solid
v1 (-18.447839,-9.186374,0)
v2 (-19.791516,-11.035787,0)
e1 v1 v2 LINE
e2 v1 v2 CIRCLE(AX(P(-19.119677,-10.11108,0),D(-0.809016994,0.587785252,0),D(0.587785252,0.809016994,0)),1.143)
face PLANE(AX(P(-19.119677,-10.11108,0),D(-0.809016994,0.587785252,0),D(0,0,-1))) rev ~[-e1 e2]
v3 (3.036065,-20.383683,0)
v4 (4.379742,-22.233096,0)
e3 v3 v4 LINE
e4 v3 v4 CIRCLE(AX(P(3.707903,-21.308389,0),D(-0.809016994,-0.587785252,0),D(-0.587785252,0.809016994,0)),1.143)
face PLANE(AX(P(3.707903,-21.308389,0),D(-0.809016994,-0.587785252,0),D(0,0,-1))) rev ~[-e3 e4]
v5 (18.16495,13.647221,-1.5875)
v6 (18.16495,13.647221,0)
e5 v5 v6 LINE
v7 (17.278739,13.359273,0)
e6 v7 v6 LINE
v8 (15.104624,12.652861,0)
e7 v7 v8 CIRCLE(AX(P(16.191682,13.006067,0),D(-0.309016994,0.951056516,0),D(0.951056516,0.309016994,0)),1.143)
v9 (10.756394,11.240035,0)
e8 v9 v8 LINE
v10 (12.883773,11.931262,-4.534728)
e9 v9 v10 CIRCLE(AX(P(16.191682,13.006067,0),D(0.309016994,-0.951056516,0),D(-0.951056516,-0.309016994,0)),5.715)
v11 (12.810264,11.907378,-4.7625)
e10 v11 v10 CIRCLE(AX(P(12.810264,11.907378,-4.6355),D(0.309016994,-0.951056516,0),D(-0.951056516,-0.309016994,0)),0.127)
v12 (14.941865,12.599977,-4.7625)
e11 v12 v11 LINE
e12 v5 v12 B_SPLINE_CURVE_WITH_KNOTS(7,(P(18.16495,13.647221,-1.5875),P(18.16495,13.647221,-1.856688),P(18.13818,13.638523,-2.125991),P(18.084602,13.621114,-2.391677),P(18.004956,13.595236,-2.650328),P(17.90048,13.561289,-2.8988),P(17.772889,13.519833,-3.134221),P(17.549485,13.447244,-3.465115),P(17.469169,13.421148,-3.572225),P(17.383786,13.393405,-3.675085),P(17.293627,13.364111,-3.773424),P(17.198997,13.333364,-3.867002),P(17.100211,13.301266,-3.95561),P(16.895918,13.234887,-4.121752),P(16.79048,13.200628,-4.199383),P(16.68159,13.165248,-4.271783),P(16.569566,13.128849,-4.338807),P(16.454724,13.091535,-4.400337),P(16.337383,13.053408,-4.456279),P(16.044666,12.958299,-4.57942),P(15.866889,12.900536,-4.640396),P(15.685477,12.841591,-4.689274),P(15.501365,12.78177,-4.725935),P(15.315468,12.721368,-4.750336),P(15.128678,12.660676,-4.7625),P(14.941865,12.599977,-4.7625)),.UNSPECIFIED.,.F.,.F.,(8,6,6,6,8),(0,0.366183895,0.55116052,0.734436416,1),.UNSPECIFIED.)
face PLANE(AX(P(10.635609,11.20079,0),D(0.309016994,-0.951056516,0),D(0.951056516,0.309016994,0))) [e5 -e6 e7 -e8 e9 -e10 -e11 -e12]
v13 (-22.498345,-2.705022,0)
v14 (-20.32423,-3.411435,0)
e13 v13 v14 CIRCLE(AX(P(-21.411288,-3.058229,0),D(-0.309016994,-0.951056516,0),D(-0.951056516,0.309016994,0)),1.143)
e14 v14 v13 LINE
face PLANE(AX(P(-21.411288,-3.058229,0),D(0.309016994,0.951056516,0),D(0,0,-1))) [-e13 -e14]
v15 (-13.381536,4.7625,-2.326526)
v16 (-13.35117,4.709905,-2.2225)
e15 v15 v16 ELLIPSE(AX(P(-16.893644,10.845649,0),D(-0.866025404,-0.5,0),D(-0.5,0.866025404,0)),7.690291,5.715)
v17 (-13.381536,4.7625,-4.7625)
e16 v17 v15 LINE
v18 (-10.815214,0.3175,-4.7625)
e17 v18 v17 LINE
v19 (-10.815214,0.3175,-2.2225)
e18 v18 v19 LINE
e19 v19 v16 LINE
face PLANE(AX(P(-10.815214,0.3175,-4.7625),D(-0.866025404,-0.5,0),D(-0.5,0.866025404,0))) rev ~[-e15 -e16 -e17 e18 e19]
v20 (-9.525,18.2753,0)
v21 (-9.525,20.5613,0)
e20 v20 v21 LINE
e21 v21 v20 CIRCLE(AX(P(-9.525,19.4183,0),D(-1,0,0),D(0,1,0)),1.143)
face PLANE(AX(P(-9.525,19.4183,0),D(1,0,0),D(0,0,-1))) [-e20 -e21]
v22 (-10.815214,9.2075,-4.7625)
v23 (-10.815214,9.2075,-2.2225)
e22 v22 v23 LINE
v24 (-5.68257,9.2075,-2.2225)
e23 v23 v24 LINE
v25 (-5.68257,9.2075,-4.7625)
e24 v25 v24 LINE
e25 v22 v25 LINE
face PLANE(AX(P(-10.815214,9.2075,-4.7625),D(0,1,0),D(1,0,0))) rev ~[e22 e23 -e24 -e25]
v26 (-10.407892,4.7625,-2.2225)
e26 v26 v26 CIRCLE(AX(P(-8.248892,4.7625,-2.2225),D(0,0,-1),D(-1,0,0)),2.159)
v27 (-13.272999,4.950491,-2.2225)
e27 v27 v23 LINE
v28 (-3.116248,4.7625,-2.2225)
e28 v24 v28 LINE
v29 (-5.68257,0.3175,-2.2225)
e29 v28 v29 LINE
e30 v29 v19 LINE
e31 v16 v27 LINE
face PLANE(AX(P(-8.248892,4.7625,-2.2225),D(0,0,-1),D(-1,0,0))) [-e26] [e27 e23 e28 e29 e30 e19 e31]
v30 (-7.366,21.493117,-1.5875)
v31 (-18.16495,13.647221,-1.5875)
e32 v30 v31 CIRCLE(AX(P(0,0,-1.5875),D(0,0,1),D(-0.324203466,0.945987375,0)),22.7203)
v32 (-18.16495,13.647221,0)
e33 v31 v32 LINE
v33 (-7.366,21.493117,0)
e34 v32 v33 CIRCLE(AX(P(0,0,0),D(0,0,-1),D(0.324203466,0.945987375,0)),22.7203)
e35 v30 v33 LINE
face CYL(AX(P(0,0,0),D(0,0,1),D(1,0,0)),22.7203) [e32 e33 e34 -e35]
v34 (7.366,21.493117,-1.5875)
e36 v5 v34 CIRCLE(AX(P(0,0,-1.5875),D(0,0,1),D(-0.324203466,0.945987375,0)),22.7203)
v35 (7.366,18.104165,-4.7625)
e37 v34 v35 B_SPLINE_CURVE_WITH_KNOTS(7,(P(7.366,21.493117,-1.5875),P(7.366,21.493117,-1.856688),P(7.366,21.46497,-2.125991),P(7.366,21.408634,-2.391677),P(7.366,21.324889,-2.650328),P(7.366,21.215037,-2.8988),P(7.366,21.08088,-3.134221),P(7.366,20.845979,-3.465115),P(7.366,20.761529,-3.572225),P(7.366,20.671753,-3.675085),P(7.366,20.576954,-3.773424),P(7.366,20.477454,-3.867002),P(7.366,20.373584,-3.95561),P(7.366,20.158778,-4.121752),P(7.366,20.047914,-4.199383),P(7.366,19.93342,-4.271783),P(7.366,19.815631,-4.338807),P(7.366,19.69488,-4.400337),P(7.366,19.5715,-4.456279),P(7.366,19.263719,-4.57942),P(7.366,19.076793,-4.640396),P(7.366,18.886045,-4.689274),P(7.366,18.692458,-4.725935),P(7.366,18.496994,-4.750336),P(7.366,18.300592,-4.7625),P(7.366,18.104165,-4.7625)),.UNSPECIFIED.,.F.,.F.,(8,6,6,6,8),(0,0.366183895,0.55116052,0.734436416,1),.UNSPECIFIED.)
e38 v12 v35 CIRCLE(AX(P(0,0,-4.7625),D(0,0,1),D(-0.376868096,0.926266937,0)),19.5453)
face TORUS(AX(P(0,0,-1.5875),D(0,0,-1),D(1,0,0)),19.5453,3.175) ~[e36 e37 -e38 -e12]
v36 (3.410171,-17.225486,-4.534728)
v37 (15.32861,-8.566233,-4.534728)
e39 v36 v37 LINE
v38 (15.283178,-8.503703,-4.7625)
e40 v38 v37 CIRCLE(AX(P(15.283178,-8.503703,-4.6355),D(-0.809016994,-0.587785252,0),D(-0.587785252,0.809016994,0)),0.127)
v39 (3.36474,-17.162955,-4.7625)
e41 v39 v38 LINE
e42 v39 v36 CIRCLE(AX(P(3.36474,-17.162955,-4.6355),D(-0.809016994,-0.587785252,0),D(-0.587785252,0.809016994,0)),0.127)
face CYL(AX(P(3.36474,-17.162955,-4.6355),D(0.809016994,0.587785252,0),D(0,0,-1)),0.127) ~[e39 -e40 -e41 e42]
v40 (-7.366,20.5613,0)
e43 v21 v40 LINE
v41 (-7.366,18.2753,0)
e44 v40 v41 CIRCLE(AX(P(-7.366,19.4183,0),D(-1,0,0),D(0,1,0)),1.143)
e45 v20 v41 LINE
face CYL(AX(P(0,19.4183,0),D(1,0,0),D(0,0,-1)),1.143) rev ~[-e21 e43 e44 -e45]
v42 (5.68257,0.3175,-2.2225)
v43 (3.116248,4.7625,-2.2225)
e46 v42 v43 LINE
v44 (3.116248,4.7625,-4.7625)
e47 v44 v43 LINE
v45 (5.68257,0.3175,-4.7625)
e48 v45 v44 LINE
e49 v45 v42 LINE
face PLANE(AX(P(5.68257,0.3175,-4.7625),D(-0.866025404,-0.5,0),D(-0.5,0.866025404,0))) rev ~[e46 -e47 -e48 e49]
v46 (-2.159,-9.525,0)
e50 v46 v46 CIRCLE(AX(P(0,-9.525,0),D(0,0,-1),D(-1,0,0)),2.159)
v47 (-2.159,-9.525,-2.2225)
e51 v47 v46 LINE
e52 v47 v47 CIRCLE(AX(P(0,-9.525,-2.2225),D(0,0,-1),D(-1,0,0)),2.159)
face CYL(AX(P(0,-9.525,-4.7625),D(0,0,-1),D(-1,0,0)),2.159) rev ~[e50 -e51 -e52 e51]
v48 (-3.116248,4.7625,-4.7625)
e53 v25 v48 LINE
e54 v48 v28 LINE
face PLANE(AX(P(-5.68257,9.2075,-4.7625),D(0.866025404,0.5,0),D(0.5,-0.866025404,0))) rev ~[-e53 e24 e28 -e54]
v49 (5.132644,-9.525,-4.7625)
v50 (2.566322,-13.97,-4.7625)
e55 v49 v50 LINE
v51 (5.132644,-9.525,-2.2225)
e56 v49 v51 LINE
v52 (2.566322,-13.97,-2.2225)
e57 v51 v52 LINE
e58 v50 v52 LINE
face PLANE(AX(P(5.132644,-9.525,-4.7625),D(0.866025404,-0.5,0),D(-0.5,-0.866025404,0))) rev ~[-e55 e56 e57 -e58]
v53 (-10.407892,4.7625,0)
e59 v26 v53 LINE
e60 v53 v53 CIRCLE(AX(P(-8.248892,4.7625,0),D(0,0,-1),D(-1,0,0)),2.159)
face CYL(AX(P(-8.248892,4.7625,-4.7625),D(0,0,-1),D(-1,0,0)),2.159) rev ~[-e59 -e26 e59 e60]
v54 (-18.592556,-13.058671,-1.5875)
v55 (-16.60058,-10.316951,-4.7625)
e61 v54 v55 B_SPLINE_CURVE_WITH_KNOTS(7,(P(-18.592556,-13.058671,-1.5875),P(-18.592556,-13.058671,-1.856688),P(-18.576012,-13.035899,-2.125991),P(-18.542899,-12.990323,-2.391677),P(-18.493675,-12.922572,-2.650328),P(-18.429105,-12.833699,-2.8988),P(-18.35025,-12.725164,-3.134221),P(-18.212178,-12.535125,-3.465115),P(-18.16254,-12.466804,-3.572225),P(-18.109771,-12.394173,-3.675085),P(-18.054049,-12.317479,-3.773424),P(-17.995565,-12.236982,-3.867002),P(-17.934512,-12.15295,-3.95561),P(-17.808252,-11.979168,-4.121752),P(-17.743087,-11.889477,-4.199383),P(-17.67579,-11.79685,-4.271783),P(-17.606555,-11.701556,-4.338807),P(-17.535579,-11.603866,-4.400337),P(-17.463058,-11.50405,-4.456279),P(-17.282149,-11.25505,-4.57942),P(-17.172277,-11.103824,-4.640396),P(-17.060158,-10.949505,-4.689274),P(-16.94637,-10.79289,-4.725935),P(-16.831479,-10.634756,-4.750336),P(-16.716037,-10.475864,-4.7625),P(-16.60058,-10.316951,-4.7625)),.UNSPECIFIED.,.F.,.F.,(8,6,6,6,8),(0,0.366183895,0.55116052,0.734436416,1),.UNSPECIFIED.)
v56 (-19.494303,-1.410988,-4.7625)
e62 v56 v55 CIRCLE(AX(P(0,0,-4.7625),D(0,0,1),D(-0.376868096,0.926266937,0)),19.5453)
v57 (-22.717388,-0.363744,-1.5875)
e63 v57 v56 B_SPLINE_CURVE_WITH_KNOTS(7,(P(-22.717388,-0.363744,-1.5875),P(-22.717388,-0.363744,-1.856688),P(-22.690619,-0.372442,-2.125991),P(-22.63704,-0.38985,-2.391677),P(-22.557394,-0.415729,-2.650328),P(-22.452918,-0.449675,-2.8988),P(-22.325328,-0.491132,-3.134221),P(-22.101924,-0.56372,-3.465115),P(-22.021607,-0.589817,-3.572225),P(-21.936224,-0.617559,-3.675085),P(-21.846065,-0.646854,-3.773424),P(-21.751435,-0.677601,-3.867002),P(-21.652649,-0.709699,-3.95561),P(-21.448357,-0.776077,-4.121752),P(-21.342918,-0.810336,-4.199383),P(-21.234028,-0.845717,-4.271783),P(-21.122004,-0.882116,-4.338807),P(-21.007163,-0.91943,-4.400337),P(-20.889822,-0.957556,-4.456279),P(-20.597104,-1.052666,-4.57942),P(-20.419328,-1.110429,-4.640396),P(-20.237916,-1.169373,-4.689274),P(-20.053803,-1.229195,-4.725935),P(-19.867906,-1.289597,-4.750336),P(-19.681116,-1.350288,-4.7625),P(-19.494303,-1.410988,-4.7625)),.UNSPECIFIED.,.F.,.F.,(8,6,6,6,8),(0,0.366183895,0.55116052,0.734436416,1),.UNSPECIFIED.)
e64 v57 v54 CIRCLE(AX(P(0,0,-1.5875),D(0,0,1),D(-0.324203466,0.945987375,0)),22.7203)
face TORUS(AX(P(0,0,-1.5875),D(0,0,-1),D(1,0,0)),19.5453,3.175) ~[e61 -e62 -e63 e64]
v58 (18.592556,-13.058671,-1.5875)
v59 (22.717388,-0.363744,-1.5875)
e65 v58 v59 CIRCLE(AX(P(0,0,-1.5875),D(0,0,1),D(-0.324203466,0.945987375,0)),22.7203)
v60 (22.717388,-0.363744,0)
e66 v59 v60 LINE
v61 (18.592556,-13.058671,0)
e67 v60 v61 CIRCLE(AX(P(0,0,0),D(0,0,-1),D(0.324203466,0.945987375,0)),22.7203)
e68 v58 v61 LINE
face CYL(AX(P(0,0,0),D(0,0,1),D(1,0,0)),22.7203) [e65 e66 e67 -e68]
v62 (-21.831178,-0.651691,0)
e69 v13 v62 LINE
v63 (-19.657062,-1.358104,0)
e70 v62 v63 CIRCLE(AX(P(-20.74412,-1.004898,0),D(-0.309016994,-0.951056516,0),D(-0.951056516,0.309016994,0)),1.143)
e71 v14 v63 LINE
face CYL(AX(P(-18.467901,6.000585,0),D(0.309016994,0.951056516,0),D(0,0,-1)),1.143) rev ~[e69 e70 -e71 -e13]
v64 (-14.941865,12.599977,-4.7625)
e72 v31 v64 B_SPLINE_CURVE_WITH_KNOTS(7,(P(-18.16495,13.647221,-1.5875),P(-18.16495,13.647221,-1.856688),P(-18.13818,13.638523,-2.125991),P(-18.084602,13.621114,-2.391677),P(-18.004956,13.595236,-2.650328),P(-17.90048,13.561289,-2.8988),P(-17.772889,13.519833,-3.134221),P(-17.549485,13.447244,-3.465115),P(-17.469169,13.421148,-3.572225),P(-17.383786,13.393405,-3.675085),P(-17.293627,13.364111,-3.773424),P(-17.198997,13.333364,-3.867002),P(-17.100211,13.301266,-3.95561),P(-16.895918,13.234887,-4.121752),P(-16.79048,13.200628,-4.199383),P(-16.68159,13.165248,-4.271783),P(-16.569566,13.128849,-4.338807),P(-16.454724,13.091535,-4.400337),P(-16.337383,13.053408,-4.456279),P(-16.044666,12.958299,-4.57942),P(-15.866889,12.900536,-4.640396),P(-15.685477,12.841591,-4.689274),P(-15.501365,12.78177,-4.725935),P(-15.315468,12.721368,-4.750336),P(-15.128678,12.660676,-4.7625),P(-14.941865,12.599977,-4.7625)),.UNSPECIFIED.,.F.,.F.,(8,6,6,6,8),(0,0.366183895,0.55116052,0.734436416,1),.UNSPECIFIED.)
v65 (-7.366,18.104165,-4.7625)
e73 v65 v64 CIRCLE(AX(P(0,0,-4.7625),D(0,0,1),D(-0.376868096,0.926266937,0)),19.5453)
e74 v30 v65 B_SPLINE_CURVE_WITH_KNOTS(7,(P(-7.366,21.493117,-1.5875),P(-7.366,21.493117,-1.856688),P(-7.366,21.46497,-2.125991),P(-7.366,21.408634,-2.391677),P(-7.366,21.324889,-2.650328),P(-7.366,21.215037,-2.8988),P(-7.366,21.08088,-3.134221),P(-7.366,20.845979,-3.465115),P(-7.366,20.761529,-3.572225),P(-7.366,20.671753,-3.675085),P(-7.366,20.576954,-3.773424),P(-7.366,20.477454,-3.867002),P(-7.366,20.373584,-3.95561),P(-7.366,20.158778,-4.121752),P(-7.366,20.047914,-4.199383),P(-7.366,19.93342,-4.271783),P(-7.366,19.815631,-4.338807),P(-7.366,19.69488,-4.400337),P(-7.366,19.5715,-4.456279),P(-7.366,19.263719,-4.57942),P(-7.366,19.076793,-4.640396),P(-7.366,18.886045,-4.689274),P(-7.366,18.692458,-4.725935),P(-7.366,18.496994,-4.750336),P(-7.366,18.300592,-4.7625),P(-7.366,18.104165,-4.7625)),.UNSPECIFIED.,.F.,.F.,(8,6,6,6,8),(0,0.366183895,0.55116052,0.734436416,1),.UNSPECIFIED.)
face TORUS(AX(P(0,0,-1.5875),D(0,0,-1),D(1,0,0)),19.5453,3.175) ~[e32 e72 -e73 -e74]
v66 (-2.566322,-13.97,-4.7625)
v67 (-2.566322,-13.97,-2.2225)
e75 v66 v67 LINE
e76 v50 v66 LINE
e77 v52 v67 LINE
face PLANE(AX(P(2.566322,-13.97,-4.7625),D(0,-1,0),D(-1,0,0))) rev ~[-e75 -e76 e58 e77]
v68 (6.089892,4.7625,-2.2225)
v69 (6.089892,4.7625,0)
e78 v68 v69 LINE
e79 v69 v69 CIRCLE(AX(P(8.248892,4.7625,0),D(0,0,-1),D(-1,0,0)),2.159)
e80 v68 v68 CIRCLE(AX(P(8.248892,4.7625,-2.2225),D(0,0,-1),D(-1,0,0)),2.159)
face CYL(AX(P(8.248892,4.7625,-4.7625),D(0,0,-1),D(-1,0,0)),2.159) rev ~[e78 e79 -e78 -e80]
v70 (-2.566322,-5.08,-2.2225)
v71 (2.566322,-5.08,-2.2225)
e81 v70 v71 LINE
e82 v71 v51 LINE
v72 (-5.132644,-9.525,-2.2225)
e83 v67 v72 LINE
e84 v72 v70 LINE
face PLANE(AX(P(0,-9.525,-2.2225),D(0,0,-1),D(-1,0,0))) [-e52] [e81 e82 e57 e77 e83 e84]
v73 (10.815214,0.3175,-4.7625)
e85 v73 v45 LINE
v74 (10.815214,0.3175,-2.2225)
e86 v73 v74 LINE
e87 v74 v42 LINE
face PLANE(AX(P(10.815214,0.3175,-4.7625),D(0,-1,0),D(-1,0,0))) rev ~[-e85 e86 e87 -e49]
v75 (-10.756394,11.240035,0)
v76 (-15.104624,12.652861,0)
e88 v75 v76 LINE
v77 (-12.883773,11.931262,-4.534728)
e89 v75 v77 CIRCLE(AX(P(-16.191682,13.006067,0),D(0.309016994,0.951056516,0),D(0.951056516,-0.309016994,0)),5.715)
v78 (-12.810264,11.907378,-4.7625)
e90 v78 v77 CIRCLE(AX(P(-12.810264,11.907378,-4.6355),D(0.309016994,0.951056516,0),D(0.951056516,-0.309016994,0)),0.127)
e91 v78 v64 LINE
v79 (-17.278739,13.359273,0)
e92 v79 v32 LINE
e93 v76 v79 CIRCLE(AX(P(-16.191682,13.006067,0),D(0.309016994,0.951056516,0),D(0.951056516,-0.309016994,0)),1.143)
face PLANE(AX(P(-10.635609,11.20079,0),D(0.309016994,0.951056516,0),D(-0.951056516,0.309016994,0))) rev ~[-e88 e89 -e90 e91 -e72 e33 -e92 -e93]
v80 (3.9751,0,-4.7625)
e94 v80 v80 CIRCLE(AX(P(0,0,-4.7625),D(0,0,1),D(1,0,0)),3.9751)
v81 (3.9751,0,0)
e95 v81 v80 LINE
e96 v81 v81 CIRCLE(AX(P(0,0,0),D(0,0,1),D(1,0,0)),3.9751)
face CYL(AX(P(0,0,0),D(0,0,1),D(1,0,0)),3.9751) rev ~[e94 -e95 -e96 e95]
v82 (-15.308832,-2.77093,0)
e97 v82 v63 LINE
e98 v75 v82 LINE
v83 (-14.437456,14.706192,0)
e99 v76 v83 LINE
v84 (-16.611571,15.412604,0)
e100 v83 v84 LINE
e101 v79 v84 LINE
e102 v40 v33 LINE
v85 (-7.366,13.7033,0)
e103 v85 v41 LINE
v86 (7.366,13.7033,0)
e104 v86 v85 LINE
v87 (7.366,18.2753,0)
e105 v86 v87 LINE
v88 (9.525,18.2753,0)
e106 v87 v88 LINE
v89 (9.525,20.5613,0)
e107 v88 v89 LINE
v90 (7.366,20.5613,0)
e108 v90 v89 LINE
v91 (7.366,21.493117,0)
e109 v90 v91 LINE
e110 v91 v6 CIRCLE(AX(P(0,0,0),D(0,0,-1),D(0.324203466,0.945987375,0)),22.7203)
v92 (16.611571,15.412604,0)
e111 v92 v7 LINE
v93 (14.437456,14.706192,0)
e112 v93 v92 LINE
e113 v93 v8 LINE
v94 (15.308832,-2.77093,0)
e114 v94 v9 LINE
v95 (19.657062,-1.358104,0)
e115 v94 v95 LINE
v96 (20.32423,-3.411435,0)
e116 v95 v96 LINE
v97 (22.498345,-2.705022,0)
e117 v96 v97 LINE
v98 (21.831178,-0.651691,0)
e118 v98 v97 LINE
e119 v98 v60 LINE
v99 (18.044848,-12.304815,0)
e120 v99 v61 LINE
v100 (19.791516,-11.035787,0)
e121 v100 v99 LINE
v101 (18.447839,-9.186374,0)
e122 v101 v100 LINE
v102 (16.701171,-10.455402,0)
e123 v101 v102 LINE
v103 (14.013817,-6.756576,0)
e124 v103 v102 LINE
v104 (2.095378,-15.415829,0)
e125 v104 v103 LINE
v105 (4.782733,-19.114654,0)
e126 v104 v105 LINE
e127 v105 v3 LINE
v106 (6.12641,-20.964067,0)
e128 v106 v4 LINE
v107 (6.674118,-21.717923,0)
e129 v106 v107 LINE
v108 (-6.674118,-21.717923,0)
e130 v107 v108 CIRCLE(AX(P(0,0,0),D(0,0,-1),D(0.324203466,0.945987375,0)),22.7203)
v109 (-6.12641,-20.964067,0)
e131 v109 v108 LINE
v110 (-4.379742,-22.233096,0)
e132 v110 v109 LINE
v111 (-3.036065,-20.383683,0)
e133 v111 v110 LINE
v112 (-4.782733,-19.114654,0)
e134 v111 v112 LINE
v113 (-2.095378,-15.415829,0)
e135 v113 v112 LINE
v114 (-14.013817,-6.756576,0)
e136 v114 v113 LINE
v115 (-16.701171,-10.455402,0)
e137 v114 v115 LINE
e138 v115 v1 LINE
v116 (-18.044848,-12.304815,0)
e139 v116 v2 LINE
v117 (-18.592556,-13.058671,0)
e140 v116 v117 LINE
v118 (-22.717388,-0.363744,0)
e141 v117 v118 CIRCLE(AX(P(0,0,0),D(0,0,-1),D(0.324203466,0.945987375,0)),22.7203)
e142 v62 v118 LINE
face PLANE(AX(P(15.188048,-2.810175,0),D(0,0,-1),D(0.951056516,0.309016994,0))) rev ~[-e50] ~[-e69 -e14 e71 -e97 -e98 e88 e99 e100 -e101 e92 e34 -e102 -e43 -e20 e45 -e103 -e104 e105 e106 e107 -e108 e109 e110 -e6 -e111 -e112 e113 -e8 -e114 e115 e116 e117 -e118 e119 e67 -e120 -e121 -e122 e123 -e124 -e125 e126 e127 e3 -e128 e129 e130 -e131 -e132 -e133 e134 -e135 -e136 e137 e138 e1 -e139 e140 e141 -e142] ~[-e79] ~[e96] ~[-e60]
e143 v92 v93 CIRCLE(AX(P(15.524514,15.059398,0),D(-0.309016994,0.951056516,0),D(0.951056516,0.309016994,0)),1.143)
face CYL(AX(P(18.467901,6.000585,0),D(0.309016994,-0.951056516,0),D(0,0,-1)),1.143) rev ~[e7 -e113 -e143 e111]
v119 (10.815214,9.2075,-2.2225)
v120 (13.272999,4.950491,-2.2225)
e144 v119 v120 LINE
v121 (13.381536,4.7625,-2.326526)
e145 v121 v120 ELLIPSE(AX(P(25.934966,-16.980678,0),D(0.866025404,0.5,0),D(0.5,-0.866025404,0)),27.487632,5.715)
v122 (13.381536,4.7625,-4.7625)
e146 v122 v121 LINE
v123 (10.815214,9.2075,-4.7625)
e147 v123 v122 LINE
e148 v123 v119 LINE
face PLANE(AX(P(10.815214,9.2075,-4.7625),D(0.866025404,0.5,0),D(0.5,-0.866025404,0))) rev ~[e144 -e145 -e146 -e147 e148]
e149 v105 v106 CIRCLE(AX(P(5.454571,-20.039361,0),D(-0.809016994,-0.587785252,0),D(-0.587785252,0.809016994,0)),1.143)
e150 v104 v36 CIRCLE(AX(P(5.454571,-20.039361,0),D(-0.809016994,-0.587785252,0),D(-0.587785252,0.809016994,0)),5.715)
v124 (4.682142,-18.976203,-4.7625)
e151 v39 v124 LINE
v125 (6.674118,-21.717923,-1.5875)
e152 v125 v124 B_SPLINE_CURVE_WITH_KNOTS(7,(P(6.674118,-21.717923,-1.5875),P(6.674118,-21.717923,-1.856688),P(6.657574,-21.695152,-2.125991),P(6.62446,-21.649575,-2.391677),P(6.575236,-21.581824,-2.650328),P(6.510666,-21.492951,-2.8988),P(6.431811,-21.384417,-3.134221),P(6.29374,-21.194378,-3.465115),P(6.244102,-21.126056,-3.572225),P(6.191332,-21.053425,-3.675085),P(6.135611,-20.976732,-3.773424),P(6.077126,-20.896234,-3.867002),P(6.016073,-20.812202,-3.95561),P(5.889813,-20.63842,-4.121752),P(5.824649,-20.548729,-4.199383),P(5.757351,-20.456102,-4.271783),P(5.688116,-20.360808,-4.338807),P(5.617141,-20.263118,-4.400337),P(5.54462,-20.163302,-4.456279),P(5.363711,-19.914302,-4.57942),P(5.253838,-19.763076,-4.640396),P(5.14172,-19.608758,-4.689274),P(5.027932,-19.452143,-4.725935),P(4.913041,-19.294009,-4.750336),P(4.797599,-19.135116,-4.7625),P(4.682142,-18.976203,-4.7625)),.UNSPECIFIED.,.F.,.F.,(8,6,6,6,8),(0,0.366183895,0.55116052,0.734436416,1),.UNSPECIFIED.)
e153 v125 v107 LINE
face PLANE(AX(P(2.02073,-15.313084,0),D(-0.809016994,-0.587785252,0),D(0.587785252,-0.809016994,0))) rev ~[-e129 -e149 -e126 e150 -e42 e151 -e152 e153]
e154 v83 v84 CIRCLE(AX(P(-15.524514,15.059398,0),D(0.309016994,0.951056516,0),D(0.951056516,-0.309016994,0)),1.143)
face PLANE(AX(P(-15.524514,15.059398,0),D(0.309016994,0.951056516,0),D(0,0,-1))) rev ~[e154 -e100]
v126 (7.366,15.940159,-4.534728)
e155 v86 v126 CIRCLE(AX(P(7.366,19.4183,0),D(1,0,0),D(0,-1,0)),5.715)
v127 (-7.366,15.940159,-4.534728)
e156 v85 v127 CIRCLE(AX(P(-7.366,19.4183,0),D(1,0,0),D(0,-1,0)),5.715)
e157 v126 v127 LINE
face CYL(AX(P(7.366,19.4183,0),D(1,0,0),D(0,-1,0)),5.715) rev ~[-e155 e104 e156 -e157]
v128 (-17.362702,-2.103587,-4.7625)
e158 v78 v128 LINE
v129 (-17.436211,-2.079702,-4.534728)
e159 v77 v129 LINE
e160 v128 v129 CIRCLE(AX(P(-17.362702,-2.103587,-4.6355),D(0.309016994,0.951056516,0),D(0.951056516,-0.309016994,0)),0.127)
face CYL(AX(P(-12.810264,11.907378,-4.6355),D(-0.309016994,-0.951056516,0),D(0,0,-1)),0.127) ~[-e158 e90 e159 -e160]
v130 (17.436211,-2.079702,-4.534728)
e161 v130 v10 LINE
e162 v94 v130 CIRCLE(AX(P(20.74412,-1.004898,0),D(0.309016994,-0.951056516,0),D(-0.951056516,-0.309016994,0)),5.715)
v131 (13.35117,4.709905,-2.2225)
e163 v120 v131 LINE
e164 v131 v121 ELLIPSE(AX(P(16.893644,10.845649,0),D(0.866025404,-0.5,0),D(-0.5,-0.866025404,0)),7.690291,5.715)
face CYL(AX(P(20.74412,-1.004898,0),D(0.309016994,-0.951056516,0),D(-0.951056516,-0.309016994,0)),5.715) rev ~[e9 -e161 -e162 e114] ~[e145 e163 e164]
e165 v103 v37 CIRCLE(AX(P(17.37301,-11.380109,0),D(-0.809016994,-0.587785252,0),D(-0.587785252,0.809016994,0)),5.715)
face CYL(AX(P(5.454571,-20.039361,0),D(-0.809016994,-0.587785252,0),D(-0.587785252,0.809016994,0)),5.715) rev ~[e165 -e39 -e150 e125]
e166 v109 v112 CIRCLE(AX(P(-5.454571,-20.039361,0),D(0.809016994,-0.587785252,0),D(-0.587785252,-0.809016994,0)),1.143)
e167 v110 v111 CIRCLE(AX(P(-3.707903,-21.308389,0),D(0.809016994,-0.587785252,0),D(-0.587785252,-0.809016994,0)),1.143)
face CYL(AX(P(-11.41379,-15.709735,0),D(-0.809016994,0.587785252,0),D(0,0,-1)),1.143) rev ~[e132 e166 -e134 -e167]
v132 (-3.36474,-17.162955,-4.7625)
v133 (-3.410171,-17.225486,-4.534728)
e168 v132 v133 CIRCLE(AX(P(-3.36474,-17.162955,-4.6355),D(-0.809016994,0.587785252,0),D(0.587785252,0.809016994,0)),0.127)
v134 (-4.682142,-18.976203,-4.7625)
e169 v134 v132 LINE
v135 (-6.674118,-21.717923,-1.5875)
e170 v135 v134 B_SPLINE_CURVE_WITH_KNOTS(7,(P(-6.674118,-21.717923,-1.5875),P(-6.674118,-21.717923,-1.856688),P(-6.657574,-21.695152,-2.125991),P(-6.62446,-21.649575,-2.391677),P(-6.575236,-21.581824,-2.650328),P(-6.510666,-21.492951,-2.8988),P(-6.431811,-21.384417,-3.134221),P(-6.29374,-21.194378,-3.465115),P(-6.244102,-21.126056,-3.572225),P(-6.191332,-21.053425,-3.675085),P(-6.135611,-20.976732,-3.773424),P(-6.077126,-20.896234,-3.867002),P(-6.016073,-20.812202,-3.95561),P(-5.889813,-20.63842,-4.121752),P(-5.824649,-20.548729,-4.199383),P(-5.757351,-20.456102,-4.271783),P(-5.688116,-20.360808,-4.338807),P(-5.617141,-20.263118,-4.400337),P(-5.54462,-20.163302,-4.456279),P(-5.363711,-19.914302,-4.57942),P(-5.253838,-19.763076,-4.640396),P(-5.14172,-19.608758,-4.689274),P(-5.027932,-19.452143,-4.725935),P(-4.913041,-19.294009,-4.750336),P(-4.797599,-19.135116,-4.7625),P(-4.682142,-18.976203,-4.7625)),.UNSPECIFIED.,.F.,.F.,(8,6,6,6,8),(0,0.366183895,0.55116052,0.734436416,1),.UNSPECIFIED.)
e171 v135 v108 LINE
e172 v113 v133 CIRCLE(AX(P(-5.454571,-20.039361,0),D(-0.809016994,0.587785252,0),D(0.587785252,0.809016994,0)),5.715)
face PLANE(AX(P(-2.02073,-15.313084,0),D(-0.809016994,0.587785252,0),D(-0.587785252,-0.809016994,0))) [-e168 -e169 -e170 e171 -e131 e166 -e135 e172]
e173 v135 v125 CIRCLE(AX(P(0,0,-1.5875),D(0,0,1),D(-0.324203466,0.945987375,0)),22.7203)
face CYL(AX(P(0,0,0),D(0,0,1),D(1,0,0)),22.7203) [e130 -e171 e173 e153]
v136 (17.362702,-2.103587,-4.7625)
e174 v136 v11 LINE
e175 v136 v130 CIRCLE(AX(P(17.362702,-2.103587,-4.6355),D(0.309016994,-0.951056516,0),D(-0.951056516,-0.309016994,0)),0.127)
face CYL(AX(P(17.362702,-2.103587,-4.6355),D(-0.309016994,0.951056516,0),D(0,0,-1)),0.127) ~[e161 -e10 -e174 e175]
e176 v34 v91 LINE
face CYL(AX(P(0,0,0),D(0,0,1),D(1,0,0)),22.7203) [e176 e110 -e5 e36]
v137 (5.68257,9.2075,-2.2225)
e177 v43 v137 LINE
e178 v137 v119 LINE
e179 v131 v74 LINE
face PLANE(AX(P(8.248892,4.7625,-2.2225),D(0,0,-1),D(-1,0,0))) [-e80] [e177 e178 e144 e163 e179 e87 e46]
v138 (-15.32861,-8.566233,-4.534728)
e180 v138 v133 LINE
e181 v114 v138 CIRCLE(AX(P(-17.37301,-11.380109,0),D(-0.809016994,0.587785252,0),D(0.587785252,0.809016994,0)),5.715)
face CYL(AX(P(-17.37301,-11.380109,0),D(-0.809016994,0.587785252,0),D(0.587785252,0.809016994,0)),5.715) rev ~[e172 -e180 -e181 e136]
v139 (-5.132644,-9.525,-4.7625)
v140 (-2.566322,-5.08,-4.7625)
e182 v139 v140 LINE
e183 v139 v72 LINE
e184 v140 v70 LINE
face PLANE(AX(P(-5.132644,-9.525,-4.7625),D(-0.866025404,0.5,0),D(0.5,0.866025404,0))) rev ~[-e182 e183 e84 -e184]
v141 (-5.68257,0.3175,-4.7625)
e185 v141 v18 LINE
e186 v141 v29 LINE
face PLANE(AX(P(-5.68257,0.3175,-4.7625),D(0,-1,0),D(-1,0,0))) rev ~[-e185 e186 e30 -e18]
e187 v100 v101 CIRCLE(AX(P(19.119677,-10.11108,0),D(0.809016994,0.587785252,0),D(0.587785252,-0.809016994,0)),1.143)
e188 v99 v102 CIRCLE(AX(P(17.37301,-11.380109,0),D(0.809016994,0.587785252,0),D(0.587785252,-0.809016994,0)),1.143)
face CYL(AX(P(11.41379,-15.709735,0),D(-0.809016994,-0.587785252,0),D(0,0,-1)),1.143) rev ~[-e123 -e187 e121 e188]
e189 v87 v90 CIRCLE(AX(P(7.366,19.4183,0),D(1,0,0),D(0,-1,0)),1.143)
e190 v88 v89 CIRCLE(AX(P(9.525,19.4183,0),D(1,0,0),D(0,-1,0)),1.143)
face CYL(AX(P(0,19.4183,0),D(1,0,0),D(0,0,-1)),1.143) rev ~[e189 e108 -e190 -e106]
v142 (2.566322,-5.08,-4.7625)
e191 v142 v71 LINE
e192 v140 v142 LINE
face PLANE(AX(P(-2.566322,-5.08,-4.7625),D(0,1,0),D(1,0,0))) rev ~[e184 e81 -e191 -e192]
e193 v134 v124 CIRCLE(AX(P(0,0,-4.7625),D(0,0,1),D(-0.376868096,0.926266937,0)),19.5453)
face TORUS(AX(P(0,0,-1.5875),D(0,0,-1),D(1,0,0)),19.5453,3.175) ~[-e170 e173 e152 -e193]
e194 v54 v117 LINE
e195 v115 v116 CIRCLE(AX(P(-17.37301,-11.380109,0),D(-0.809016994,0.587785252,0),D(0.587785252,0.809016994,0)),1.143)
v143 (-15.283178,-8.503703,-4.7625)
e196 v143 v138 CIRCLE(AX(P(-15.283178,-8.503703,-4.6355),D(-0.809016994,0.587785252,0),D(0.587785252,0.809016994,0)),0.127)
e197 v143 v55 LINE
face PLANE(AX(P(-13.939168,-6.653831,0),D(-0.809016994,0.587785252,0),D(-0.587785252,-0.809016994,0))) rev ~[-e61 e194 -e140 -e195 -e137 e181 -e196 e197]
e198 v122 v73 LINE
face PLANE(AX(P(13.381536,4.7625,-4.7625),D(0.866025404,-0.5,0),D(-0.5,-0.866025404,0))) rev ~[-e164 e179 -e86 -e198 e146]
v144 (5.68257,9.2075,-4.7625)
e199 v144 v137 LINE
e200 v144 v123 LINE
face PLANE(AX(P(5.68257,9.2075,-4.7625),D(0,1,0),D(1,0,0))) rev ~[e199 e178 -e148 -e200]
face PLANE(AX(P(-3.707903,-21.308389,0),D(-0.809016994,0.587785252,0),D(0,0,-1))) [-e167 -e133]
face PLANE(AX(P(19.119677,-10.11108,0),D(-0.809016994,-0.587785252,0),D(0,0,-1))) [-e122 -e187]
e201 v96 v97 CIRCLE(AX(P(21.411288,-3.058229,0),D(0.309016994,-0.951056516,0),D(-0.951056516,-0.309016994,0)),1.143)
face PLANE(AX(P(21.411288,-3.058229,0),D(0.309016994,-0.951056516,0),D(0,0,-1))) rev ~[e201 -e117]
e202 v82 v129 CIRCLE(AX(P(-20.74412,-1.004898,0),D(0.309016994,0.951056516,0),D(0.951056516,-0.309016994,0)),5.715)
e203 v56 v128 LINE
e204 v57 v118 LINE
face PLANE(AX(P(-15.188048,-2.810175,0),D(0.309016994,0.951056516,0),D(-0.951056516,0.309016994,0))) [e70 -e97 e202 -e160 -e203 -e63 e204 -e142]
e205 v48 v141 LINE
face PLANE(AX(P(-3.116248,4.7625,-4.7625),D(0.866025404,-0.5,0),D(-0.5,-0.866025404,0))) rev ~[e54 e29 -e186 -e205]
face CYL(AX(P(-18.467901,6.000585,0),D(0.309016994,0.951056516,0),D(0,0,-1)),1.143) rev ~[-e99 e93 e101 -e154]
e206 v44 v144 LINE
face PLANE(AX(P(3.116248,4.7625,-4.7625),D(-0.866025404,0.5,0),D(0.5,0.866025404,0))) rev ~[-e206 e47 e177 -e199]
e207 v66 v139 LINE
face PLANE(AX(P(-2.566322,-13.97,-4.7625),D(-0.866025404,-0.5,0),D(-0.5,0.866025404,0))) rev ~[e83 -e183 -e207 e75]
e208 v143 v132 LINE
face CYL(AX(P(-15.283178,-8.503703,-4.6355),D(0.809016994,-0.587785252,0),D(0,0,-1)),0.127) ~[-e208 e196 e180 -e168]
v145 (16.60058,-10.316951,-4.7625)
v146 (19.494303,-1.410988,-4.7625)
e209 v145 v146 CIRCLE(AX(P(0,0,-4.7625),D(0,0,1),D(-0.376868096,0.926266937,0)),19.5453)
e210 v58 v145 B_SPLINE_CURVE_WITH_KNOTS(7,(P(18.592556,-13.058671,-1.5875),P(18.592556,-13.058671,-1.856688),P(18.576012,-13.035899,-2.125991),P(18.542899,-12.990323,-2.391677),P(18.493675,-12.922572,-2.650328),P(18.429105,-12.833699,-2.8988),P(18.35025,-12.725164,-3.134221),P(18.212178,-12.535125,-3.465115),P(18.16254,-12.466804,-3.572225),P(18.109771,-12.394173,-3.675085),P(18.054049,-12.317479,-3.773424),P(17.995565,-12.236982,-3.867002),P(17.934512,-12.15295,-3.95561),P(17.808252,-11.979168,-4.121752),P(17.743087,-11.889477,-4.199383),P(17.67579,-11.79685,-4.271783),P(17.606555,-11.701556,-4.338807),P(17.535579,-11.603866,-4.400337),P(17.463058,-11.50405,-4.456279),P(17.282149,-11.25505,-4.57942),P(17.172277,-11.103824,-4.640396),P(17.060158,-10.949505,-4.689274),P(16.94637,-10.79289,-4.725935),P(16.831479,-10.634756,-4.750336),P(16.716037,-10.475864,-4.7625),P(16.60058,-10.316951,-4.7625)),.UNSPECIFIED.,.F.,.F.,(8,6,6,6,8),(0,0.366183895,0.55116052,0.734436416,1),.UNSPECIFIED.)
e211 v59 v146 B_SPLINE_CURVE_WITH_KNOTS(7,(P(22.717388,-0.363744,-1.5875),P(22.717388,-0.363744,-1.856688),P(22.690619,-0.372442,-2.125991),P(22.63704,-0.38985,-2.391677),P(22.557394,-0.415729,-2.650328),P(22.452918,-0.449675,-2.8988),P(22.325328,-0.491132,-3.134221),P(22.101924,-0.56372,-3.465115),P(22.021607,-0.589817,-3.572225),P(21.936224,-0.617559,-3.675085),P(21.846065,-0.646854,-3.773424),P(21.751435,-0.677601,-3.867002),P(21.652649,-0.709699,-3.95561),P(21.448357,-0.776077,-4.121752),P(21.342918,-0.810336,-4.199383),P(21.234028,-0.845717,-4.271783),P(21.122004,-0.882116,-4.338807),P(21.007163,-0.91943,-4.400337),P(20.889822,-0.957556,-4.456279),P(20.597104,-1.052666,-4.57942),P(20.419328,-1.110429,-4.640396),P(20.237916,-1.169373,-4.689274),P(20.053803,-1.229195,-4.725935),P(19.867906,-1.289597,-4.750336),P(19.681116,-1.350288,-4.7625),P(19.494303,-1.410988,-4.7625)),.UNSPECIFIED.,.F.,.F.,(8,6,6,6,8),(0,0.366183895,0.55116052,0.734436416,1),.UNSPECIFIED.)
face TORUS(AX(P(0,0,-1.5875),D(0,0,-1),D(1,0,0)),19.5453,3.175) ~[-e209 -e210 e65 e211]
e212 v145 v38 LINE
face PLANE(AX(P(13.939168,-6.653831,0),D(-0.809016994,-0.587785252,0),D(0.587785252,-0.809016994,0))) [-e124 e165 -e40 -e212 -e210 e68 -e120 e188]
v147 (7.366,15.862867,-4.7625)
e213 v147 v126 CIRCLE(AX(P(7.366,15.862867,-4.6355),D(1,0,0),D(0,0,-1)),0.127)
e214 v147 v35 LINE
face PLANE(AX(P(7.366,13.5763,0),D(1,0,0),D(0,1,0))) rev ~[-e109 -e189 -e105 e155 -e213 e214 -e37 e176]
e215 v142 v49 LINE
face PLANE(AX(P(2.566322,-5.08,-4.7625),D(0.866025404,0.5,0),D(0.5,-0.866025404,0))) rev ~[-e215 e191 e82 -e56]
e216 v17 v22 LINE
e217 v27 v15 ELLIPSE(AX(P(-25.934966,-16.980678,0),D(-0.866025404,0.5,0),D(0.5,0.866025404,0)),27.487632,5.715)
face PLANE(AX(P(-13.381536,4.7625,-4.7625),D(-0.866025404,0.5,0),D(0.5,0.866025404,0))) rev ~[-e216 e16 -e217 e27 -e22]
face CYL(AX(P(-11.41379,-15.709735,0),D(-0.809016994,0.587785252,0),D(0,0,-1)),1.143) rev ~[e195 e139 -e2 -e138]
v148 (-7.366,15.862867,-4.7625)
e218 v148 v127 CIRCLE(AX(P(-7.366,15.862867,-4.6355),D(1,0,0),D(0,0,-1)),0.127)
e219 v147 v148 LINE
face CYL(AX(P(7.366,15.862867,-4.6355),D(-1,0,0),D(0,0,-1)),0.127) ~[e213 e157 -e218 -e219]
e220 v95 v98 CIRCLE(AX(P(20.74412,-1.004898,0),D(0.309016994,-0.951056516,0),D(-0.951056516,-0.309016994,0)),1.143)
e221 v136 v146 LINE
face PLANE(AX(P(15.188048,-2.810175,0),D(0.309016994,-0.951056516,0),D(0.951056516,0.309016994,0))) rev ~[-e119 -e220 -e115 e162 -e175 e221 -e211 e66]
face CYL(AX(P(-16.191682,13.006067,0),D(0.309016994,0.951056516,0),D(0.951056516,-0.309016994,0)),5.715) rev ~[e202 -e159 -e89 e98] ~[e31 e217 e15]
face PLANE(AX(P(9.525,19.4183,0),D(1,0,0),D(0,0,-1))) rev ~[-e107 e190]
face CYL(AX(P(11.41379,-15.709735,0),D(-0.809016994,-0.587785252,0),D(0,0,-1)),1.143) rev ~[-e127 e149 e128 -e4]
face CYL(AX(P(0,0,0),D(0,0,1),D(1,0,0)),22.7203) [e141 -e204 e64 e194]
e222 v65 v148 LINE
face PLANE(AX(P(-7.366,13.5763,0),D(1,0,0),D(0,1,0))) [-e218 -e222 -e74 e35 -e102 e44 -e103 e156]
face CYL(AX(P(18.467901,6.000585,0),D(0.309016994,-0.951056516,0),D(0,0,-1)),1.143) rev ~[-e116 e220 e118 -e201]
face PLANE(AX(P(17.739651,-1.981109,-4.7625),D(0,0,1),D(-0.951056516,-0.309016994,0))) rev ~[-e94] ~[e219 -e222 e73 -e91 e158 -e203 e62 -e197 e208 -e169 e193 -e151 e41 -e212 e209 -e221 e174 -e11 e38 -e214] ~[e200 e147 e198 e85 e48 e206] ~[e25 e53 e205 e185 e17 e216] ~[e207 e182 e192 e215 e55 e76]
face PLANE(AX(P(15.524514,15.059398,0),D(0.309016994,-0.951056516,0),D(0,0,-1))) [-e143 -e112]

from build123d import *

# Parameters (mm, degrees)
SKETCH1_R                = 22.7203
BOSS_EXTRUDE2_DEPTH      = 4.7625
FILLET1_R                = 3.175
SKETCH2_W                = 14.732
SKETCH2_H                = 10.414
CUT_EXTRUDE2_DEPTH       = 12.7
CIRPATTERN1_COUNT        = 5
SKETCH4_R                = 1.143
CUT_EXTRUDE4_DEPTH       = 9.525
CIRPATTERN2_COUNT        = 5
SKETCH5_R                = 3.9751
CUT_EXTRUDE5_DEPTH       = 33.480350535
SKETCH6_R                = 2.159
CUT_EXTRUDE7_DEPTH       = 33.480350535
BOSS_EXTRUDE4_REACH      = 39.999
FILLET2_R                = 0.127
CIRPATTERN5_COUNT        = 5
FILLET2_OF_CIRPATTERN5_R = 0.127
CUT_EXTRUDE8_DEPTH       = 2.54


with BuildPart() as part:
    # Sketch1 → Boss-Extrude2 (new body)
    with BuildSketch(Plane.XY):
        Circle(SKETCH1_R)
    extrude(amount=-BOSS_EXTRUDE2_DEPTH)

    # Fillet1
    fillet1_edges = [part.edges().sort_by_distance(p)[0] for p in [
        (-22.7203, 0, -4.7625),
    ]]
    fillet(fillet1_edges, radius=FILLET1_R)

    # Sketch2 → Cut-Extrude2 (cut)
    with BuildSketch(Plane.XY):
        with Locations((0, 18.7833)):
            Rectangle(SKETCH2_W, SKETCH2_H)
    cut_extrude2 = extrude(amount=-CUT_EXTRUDE2_DEPTH, mode=Mode.SUBTRACT)

    # CirPattern1: Cut-Extrude2 ×5 about axis
    cirpattern1_axis = Axis((0, 0, 0), (0, 0, 1))
    for i in range(1, CIRPATTERN1_COUNT):
        add(cut_extrude2.rotate(cirpattern1_axis, i * 360 / CIRPATTERN1_COUNT), mode=Mode.SUBTRACT)

    # Sketch4 → Cut-Extrude4 (cut, symmetric)
    with BuildSketch(Plane(origin=(0, 0, 0), x_dir=(0, 0, -1), z_dir=(1, 0, 0))):
        with Locations((0, 19.4183)):
            Circle(SKETCH4_R)
    cut_extrude4 = extrude(amount=CUT_EXTRUDE4_DEPTH, both=True, mode=Mode.SUBTRACT)

    # CirPattern2: Cut-Extrude4 ×5 about axis
    cirpattern2_axis = Axis((0, 0, 0), (0, 0, 1))
    for i in range(1, CIRPATTERN2_COUNT):
        add(cut_extrude4.rotate(cirpattern2_axis, i * 360 / CIRPATTERN2_COUNT), mode=Mode.SUBTRACT)

    # Sketch5 → Cut-Extrude5 (cut, through all)
    with BuildSketch(Plane.XY):
        Circle(SKETCH5_R)
    extrude(amount=-CUT_EXTRUDE5_DEPTH, mode=Mode.SUBTRACT)

    # Sketch6 → Cut-Extrude7 (cut, through all)
    with BuildSketch(Plane(origin=(0, 0, -4.7625), x_dir=(-1, 0, 0), z_dir=(0, 0, -1))):
        with Locations((0, -9.525)):
            Circle(SKETCH6_R)
        with Locations((-8.248891971, 4.7625)):
            Circle(SKETCH6_R)
        with Locations((8.248891971, 4.7625)):
            Circle(SKETCH6_R)
    extrude(amount=-CUT_EXTRUDE7_DEPTH, mode=Mode.SUBTRACT)

    # Sketch10 → Boss-Extrude4 (add, up to next)
    with BuildSketch(Plane.ZY.offset(-7.366), mode=Mode.PRIVATE) as boss_extrude4_sk1:
        with BuildLine():
            Line((-4.7625, 13.5763), (0, 13.5763))
            Line((0, 13.5763), (0, 13.7033))
            ThreePointArc((0, 13.7033), (-2.7025038, 14.38265722), (-4.7625, 16.259214887))
            Line((-4.7625, 16.259214887), (-4.7625, 13.5763))
        make_face()
    boss_extrude4_tool1 = extrude(boss_extrude4_sk1.sketch, amount=BOSS_EXTRUDE4_REACH, mode=Mode.PRIVATE) - part.part
    boss_extrude4 = boss_extrude4_tool1.solids().sort_by_distance((7.366, 14.314807, -3.452063))[0]
    add(boss_extrude4)

    # Fillet2
    fillet2_edges = [part.edges().sort_by_distance(p)[0] for p in [
        (0, 16.259214887, -4.7625),
    ]]
    fillet(fillet2_edges, radius=FILLET2_R)

    # CirPattern5: Boss-Extrude4 ×5 about axis
    cirpattern5_axis = Axis((0, 0, 0), (0, 0, 1))
    for i in range(1, CIRPATTERN5_COUNT):
        add(boss_extrude4.rotate(cirpattern5_axis, i * 360 / CIRPATTERN5_COUNT))

    # Fillet2 of CirPattern5
    fillet2_of_cirpattern5_edges = [part.edges().sort_by_distance(p)[0] for p in [
        (-15.463432268, 5.024373715, -4.7625),
        (-9.556926725, -13.153981159, -4.7625),
        (9.556926725, -13.153981159, -4.7625),
        (15.463432268, 5.024373715, -4.7625),
    ]]
    fillet(fillet2_of_cirpattern5_edges, radius=FILLET2_OF_CIRPATTERN5_R)

    # Sketch7 → Cut-Extrude8 (cut)
    with BuildSketch(Plane(origin=(0, 0, -4.7625), x_dir=(-1, 0, 0), z_dir=(0, 0, -1))):
        Polygon((-10.815213918, 0.3175), (-5.682570024, 0.3175), (-3.116248078, 4.7625), (-5.682570024, 9.2075), (-10.815213918, 9.2075), (-13.381535864, 4.7625), align=None)
        Polygon((5.132643893, -9.525), (2.566321947, -5.08), (-2.566321947, -5.08), (-5.132643893, -9.525), (-2.566321947, -13.97), (2.566321947, -13.97), align=None)
        Polygon((5.682570024, 9.2075), (3.116248078, 4.7625), (5.682570024, 0.3175), (10.815213918, 0.3175), (13.381535864, 4.7625), (10.815213918, 9.2075), align=None)
    extrude(amount=-CUT_EXTRUDE8_DEPTH, mode=Mode.SUBTRACT)


solid = part.part
